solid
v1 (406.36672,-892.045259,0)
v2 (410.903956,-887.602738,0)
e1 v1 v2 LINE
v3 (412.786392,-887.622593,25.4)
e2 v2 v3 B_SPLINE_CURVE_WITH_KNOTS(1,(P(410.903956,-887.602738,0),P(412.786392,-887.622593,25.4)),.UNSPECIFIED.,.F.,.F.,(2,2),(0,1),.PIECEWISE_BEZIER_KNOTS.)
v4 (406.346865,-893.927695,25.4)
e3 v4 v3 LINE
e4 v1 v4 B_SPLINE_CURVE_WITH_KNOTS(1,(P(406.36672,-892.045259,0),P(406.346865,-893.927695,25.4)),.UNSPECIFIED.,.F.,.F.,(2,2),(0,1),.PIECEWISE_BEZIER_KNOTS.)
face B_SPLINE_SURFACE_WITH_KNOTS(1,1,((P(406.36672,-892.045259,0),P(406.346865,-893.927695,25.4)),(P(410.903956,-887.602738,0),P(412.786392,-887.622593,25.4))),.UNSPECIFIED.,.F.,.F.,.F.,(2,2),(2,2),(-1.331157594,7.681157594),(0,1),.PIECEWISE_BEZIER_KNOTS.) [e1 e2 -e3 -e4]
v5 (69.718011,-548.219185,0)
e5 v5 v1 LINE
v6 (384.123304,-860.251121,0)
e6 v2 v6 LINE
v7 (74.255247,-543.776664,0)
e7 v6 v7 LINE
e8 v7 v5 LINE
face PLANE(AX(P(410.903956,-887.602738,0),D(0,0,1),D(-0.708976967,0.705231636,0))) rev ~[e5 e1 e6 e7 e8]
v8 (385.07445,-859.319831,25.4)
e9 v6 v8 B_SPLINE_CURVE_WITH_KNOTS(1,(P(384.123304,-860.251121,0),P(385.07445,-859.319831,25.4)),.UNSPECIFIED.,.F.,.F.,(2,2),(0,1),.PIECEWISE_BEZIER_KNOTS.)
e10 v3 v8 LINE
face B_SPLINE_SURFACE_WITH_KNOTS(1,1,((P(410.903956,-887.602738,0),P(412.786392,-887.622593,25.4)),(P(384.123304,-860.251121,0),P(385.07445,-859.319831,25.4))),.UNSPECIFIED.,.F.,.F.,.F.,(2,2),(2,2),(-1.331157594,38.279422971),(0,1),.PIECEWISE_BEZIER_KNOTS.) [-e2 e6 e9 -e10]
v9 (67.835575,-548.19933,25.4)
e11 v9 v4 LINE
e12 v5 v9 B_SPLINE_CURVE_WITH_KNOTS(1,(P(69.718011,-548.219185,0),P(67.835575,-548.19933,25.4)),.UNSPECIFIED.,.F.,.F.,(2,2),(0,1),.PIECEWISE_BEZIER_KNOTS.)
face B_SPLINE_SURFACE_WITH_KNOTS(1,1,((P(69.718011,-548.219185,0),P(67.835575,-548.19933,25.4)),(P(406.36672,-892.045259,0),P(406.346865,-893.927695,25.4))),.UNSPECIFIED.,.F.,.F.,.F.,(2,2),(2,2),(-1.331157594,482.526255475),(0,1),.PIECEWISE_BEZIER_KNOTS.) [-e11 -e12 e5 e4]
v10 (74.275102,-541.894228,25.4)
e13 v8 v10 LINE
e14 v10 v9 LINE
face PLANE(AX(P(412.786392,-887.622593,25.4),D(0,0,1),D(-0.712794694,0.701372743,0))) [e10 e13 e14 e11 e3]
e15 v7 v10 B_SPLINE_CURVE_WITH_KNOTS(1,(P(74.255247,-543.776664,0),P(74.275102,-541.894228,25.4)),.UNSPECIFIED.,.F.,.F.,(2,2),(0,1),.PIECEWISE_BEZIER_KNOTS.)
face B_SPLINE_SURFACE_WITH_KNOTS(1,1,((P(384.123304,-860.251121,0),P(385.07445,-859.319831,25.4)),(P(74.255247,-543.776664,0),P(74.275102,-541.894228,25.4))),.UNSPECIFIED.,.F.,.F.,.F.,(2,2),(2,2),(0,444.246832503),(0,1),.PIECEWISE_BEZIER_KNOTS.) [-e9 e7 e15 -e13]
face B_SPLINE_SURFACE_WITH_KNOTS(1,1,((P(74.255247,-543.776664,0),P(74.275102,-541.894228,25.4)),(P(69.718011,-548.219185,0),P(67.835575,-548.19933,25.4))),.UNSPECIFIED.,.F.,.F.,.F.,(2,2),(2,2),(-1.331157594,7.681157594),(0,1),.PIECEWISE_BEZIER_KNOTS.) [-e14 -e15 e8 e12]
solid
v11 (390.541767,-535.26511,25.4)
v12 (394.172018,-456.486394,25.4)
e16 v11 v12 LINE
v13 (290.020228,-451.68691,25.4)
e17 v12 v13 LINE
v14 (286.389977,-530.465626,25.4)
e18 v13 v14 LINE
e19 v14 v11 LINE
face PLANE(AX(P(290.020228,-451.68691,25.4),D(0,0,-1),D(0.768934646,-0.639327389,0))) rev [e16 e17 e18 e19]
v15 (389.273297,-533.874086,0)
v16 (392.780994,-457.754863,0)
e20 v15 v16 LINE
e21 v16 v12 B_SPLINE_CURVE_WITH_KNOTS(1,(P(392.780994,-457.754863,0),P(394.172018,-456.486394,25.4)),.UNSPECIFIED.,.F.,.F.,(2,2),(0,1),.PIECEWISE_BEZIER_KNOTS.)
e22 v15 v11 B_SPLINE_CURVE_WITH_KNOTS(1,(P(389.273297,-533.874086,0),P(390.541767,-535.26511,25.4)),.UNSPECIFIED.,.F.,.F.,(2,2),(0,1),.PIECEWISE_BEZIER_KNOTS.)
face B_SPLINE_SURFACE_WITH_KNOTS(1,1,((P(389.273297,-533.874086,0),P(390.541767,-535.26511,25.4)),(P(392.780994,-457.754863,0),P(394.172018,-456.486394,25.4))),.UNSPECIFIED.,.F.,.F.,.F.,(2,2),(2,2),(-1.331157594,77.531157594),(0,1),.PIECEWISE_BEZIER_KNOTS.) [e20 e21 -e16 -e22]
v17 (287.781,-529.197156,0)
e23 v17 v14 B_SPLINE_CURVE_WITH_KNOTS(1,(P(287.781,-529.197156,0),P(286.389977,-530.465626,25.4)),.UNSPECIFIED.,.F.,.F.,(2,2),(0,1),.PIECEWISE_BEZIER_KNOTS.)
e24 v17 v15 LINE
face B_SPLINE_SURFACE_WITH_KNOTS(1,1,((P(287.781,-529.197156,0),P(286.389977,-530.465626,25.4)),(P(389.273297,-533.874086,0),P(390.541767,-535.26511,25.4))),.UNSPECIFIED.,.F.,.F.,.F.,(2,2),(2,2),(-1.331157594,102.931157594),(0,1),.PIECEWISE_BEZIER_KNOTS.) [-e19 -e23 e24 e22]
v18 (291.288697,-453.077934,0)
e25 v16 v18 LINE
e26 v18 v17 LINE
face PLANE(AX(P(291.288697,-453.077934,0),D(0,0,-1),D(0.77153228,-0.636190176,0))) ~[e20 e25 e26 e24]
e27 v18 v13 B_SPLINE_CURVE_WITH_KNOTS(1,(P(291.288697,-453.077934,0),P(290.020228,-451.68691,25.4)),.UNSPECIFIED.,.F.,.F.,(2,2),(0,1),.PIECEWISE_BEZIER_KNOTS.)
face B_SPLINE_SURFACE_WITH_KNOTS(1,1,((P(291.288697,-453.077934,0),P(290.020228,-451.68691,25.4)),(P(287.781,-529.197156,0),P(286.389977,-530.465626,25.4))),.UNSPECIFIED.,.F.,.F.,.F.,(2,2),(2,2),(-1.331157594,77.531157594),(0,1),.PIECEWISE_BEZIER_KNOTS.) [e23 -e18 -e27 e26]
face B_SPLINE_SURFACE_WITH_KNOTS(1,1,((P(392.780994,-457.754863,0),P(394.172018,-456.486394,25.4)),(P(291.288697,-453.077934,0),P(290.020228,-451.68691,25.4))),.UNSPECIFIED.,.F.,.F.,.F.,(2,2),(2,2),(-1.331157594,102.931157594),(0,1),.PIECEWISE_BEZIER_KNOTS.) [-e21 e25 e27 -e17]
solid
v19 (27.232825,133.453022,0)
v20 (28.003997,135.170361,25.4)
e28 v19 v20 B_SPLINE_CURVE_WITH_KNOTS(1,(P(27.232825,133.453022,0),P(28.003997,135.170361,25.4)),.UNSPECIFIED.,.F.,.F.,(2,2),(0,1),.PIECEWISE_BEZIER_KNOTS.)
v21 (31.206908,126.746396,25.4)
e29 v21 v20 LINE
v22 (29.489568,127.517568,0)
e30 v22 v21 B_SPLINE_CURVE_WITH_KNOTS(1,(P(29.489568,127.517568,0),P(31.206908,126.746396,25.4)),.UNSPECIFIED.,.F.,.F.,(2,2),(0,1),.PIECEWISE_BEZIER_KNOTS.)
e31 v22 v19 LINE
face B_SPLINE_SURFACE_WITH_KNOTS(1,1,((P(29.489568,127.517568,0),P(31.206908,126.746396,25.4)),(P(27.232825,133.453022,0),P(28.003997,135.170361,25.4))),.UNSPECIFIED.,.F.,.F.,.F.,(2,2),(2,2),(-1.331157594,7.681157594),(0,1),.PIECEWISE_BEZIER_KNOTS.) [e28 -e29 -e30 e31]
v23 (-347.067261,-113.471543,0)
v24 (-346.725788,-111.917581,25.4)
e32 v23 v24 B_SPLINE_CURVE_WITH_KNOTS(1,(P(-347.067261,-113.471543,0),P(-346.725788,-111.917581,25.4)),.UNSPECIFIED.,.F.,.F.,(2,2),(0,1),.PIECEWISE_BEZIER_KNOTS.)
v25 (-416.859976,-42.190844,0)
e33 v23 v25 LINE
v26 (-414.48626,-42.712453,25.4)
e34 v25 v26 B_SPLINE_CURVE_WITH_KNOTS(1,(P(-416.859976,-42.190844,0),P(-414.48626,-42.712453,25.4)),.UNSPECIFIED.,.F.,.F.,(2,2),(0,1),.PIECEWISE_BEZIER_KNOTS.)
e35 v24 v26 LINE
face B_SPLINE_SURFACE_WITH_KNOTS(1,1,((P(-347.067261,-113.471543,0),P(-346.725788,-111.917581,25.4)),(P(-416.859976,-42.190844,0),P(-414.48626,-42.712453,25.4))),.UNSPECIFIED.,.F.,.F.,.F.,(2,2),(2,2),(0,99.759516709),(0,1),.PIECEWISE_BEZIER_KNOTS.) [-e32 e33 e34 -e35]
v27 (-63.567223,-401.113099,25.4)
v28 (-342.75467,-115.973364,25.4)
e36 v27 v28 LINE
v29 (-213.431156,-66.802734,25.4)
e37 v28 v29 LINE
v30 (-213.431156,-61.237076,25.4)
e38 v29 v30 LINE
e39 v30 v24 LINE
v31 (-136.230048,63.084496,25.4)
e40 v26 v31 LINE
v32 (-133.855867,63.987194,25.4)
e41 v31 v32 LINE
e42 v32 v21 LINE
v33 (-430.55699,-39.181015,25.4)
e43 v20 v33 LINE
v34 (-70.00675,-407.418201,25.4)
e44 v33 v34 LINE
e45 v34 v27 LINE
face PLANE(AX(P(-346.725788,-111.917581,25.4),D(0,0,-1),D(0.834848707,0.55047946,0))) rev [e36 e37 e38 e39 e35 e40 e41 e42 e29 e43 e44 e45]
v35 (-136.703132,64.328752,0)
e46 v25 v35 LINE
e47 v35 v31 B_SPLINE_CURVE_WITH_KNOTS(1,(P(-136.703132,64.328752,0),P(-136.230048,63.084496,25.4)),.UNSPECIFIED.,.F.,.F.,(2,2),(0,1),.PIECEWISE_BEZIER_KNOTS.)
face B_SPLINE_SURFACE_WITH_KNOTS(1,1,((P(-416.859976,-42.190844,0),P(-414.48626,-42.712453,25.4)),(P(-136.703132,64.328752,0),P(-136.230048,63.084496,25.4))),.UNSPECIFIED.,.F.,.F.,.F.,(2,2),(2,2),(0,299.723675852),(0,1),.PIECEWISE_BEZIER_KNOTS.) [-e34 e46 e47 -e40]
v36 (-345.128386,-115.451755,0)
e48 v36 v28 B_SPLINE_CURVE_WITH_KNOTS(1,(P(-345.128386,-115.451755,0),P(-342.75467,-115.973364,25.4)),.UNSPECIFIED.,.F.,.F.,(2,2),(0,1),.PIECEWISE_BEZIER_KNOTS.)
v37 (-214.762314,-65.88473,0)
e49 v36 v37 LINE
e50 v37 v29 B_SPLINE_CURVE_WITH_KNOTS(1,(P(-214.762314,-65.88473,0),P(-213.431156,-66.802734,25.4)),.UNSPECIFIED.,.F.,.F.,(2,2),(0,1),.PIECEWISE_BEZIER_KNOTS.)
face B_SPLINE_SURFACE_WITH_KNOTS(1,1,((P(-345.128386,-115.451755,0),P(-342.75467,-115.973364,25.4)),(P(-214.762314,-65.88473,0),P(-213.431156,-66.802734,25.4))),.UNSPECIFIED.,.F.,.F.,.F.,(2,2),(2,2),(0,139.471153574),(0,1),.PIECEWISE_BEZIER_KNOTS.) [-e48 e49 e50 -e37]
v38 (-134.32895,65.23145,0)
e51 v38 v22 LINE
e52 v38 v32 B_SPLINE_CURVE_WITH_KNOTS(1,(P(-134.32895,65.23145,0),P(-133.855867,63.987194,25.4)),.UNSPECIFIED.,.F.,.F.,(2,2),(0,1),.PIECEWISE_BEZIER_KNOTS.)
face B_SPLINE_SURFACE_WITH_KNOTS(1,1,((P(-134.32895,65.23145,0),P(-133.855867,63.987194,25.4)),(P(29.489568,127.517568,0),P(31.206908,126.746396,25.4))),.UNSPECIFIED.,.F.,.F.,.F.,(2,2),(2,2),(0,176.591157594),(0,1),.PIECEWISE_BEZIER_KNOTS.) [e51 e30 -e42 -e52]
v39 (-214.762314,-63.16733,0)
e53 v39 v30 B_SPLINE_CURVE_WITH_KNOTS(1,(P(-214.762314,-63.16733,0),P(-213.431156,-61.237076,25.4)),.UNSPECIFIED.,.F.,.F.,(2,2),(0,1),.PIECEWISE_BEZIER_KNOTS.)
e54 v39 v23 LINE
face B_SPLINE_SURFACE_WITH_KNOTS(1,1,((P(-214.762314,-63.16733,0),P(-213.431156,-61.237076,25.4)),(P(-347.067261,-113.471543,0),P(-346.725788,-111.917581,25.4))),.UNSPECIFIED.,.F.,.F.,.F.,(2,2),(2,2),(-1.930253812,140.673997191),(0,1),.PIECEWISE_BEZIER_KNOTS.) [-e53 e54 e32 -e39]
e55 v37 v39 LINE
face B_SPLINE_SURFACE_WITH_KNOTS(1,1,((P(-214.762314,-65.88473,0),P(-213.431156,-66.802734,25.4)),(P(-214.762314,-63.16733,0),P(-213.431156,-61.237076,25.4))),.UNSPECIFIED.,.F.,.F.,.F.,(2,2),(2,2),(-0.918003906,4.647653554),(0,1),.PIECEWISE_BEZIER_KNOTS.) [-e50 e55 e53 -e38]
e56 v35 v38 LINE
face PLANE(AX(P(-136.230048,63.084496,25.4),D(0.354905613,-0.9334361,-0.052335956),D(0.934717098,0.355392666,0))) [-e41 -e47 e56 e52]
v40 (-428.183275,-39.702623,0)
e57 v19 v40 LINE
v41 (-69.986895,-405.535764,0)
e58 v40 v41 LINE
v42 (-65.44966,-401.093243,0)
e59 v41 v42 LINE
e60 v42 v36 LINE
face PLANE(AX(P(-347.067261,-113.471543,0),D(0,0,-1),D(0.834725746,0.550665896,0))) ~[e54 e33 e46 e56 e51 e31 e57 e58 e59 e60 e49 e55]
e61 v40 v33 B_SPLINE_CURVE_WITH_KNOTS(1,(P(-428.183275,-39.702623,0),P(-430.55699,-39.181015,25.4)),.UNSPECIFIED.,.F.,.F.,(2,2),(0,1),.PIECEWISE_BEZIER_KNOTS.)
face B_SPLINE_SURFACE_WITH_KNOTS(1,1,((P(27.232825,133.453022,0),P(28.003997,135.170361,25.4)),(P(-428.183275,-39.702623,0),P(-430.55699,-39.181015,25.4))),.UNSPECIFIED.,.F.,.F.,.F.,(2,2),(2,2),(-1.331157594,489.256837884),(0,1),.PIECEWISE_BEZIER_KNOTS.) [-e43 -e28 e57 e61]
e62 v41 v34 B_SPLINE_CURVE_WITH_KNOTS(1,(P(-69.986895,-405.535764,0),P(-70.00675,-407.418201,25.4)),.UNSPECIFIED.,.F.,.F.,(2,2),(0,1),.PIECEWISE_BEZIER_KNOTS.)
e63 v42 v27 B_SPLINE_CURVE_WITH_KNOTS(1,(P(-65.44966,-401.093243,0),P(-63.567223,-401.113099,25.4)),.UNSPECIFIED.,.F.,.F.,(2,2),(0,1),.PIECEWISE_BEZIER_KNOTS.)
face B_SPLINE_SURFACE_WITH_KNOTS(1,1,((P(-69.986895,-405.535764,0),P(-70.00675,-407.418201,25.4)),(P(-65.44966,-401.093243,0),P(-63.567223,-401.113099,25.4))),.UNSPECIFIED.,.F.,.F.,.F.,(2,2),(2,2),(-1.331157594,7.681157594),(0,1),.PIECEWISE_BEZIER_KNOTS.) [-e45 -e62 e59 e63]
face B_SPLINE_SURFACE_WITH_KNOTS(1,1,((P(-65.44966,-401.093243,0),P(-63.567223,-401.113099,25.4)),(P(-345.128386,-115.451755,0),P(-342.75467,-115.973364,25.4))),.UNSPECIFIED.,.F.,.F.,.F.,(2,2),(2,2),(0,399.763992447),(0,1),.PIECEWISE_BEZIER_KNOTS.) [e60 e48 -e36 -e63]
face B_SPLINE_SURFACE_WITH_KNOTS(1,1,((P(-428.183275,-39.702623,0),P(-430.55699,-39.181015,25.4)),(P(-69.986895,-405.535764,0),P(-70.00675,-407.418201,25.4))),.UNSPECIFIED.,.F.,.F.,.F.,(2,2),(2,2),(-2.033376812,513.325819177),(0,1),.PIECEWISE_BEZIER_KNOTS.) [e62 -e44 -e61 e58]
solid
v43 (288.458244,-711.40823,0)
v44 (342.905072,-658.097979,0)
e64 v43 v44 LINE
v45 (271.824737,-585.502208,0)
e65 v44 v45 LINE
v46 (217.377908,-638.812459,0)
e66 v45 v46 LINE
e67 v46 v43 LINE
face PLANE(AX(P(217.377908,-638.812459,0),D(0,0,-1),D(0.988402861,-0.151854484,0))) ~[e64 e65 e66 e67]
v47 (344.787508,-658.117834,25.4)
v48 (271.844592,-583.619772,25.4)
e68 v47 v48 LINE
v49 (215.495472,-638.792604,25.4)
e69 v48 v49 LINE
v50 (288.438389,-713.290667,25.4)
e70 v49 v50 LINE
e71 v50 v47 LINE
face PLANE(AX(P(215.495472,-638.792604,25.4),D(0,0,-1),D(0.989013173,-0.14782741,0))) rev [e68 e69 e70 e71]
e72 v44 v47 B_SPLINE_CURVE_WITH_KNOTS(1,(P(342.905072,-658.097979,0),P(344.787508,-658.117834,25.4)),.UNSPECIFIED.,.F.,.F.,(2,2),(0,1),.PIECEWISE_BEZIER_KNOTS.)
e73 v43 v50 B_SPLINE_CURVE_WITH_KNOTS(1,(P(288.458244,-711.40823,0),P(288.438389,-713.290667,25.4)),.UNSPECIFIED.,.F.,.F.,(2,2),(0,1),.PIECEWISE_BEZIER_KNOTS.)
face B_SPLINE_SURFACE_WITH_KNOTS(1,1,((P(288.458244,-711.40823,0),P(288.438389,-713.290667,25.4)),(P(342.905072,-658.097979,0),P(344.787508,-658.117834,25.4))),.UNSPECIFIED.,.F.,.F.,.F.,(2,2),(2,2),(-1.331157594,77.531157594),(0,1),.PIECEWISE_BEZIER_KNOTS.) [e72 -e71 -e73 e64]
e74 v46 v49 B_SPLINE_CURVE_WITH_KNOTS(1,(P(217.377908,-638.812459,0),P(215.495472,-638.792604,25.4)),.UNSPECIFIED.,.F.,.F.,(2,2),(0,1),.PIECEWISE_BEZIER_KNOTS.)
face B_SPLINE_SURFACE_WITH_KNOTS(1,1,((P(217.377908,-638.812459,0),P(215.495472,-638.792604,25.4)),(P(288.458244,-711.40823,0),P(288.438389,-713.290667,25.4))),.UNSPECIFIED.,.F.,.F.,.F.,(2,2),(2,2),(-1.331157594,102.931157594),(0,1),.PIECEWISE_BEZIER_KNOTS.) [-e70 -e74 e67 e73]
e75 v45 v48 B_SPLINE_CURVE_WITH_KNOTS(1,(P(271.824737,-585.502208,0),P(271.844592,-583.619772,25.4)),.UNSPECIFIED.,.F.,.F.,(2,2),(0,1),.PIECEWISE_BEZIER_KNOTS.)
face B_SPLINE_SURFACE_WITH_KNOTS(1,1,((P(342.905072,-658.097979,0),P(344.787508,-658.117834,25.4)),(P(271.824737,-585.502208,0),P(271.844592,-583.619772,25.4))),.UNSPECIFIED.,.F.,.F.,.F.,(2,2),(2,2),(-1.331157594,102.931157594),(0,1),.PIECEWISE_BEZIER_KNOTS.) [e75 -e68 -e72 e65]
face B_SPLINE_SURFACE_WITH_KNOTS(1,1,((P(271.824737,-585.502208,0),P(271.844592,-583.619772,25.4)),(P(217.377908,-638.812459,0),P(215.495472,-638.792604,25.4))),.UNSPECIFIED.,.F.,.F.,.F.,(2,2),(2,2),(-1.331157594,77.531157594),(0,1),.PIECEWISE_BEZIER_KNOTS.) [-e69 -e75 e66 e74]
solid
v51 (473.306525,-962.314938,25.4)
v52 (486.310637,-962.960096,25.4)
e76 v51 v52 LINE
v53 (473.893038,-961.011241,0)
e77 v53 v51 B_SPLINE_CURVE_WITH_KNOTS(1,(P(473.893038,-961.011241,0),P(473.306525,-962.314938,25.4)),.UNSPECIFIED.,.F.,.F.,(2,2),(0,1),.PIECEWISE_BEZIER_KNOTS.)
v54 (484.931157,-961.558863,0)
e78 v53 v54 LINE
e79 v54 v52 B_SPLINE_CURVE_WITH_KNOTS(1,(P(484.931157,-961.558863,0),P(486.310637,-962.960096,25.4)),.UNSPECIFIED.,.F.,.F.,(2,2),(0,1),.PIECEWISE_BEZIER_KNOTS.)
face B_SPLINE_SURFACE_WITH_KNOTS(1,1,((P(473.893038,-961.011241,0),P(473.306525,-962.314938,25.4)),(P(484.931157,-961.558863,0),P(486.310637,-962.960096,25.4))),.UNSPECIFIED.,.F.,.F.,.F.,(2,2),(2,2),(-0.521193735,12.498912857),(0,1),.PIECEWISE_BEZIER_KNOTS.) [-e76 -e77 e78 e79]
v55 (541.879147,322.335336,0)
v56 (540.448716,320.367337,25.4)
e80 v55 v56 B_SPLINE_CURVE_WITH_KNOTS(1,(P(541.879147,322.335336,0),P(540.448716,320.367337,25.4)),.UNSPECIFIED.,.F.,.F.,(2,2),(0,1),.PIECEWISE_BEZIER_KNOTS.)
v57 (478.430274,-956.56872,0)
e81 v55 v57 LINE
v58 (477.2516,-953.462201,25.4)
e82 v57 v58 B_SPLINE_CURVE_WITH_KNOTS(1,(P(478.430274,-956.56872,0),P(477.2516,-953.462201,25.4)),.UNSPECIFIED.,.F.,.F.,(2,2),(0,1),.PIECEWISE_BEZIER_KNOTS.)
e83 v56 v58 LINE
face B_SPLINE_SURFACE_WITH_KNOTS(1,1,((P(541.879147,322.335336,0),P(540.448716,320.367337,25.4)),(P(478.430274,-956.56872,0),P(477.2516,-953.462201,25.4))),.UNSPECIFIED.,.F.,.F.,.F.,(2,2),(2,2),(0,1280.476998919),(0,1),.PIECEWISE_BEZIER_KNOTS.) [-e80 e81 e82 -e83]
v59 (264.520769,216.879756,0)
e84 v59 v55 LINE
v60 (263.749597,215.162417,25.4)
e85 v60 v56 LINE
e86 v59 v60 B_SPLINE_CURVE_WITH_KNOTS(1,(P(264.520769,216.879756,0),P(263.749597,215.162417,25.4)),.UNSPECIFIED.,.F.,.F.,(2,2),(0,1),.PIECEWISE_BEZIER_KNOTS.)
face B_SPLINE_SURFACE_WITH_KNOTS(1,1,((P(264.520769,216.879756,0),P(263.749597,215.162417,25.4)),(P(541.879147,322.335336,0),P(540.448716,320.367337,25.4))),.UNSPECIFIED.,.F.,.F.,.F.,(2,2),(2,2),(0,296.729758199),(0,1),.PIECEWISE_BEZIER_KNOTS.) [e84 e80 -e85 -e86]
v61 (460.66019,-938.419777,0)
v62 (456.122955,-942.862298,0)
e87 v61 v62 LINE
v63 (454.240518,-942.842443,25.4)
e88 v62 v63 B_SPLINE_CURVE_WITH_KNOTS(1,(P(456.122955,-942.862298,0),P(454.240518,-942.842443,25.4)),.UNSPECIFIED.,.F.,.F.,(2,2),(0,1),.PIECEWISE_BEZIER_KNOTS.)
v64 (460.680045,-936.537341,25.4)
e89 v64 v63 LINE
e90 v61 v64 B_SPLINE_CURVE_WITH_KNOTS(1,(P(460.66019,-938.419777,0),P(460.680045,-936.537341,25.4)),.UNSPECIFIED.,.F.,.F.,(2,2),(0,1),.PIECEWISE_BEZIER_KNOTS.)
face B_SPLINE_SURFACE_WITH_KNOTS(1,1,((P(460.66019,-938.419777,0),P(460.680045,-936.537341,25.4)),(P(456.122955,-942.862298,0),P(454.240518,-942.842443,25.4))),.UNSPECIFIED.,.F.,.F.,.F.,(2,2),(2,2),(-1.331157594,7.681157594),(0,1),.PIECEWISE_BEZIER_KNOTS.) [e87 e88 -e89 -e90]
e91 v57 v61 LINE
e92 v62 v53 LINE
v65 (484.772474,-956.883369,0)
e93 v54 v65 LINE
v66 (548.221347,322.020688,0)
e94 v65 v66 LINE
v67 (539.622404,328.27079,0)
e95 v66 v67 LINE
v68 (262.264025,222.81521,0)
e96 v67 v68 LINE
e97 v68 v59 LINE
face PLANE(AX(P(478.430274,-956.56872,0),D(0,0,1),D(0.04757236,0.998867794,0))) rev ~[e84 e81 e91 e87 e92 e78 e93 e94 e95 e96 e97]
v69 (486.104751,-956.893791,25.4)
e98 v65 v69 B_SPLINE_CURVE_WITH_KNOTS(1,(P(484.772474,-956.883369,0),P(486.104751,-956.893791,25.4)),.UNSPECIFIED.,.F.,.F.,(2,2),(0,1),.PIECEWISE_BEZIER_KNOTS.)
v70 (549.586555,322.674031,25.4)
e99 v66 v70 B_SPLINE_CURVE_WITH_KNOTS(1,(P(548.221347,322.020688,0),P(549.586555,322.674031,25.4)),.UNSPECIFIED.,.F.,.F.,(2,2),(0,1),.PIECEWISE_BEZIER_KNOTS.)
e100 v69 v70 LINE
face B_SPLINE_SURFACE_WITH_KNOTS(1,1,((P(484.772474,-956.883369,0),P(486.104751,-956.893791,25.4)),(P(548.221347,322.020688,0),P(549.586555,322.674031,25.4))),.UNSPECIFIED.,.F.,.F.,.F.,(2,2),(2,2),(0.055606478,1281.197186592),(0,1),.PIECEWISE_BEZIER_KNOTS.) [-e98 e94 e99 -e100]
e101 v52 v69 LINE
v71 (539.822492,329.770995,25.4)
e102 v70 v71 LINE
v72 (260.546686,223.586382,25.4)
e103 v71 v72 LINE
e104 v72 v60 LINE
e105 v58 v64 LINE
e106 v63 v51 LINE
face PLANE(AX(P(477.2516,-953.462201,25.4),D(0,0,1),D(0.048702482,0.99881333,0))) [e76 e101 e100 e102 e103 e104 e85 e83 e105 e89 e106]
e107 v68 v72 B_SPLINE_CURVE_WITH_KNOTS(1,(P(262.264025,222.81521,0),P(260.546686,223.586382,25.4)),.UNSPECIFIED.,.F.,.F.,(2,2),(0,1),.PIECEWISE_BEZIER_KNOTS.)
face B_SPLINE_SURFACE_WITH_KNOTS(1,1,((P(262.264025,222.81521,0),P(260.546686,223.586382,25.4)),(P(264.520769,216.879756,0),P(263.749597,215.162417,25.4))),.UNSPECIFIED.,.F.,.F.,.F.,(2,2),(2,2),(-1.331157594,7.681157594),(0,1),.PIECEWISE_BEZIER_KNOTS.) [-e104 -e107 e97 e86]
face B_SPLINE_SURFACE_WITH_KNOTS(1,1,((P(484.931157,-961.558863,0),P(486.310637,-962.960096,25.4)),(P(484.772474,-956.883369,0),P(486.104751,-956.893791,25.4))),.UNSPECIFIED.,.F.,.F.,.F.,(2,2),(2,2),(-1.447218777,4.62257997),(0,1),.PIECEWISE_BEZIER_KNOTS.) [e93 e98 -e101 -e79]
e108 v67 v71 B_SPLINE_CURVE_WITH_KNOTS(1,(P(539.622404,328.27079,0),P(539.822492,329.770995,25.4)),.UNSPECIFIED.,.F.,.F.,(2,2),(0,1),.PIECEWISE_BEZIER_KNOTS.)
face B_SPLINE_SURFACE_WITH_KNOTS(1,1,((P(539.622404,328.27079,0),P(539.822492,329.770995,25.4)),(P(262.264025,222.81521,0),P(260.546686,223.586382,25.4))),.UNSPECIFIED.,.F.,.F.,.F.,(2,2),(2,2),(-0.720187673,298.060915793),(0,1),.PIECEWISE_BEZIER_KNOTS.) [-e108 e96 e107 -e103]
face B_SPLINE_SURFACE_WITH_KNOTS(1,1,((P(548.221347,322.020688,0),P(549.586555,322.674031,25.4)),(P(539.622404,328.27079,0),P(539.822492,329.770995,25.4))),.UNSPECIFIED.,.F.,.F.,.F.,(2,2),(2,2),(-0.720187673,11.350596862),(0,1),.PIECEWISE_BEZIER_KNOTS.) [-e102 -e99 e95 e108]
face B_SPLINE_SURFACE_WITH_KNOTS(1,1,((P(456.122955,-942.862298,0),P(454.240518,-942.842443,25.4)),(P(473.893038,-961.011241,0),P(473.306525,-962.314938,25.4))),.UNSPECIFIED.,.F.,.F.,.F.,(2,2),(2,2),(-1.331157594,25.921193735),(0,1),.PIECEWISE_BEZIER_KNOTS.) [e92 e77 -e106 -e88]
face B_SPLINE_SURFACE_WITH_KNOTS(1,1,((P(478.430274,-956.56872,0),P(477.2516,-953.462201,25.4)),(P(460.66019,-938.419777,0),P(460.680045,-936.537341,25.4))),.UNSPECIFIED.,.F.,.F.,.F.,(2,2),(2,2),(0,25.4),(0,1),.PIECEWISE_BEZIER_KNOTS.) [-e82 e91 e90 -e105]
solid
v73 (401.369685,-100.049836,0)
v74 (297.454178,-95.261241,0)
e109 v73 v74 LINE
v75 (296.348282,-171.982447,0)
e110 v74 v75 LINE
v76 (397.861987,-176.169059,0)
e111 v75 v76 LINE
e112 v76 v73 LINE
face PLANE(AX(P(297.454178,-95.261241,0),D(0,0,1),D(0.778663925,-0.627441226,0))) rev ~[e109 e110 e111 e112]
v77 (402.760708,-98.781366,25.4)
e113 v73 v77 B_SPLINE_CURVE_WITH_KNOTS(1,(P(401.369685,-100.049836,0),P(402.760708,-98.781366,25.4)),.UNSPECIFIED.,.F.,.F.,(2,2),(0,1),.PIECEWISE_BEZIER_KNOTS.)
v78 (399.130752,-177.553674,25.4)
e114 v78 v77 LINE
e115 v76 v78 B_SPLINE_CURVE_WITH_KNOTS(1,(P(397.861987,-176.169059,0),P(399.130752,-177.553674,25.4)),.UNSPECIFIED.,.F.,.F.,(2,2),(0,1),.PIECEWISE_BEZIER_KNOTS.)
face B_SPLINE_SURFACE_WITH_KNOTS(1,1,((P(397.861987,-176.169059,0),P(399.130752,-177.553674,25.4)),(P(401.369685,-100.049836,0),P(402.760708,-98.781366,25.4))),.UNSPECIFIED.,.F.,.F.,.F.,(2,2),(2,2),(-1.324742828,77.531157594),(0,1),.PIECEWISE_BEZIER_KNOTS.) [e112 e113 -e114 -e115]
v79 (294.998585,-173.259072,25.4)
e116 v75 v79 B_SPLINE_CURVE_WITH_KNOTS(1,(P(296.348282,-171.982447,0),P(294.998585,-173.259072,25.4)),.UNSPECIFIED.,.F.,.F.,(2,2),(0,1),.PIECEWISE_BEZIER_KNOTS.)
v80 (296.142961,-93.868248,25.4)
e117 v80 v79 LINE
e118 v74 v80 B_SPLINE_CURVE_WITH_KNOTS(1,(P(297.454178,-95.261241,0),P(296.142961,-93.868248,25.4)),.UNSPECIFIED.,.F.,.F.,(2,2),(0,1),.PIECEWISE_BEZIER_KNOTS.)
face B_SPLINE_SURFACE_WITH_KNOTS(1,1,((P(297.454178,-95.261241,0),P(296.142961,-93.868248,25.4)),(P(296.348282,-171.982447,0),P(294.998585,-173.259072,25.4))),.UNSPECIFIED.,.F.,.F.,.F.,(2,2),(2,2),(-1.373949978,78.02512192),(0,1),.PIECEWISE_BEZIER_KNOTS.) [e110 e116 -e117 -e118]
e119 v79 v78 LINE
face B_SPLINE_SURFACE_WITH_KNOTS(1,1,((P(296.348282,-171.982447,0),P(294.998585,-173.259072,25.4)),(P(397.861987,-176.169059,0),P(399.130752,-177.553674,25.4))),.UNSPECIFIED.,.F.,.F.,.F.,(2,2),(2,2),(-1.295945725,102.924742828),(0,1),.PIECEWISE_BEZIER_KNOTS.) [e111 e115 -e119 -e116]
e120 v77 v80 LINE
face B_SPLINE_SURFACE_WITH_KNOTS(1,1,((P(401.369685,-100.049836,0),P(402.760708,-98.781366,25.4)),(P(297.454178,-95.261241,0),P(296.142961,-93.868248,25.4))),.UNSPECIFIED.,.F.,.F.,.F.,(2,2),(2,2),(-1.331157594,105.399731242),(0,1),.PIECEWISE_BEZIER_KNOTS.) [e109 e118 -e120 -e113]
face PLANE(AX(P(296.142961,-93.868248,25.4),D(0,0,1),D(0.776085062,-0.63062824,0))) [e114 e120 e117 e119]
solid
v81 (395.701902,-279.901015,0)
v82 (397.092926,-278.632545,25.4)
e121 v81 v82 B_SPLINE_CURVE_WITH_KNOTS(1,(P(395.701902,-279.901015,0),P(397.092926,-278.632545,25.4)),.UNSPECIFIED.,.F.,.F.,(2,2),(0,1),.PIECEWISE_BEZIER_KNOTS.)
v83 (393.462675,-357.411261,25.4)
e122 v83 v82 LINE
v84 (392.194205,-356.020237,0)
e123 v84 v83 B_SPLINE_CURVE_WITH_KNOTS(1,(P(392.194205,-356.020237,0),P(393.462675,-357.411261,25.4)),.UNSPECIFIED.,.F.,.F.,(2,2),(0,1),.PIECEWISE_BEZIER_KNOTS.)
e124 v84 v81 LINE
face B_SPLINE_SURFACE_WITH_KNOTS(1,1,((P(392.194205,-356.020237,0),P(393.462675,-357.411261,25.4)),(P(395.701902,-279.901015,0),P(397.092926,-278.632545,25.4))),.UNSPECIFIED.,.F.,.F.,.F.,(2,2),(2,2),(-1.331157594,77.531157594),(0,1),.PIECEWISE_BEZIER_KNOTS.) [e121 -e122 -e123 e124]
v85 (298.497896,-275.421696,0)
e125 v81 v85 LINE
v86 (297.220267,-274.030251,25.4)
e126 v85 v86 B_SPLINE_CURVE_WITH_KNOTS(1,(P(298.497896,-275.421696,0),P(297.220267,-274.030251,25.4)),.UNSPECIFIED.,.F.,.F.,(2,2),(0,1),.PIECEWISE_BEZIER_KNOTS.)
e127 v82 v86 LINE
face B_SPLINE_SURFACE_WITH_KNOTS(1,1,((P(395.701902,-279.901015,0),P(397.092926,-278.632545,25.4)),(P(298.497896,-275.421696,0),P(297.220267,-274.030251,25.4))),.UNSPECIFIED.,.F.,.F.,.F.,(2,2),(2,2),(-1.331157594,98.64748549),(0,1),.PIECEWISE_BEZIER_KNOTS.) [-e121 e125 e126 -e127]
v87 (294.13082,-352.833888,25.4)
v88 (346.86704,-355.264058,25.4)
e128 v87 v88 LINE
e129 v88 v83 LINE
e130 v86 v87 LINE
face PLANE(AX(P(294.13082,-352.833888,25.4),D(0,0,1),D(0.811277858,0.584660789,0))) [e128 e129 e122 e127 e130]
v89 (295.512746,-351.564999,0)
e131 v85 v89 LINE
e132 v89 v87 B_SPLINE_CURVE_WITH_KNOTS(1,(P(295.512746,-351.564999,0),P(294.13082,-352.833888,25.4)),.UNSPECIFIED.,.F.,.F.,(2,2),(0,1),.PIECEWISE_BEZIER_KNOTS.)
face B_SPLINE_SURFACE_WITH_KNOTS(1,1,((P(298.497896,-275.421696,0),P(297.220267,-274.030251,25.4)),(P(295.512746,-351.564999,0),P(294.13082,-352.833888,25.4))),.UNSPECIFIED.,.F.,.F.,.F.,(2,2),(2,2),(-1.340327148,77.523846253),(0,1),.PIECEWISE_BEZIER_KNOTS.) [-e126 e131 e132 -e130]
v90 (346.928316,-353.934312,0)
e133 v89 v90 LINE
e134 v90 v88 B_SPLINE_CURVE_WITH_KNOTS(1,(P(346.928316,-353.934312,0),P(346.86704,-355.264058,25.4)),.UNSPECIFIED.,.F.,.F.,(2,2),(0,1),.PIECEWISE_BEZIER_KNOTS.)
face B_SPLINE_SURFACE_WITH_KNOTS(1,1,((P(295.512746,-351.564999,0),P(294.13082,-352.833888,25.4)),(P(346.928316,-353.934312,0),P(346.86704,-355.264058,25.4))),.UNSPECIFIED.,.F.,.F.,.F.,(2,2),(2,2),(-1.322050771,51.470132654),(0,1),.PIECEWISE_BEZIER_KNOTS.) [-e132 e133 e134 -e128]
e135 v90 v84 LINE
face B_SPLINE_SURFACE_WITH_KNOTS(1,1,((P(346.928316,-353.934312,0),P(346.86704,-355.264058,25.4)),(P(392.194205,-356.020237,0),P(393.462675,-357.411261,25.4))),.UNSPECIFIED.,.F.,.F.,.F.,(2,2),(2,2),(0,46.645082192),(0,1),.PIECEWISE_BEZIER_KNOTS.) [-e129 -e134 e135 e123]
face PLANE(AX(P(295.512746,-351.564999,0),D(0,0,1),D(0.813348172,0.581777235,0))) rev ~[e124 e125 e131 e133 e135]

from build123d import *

# Parameters (mm, degrees)
F1_DEPTH = 25.4
F1_TAPER = -3


with BuildPart() as f1:
    # F0 (on Top) → F1 (new body)
    with BuildSketch(Plane.XY):
        Polygon((-347.0672607158, -113.4715431192), (-416.8599761126, -42.1908441073), (-136.7031317252, 64.3287522537), (-134.3289502972, 65.2314496265), (29.489568236, 127.5175683496), (27.232824804, 133.4530219197), (-138.9598751572, 70.2642058237), (-428.1832746342, -39.702623071), (-69.9868951879, -405.5357643277), (-65.449659507, -401.0932433794), (-214.7623137451, -248.5972371001), (-345.1283856185, -115.4517551147), align=None)
        Polygon((-214.7623137451, -63.1673302105), (-347.0672607158, -113.4715431192), (-345.1283856185, -115.4517551147), (-214.7623137451, -65.8847299525), align=None)
    extrude(amount=F1_DEPTH, taper=F1_TAPER)


with BuildPart() as f1b:
    # F0 (on Top) → F1, piece 2 (new body)
    with BuildSketch(Plane.XY):
        Polygon((473.8930384086, -961.0112408853), (478.4302740895, -956.5687199371), (460.6601902965, -938.4197772134), (456.1229546155, -942.8622981616), align=None)
        Polygon((496.9257680351, -583.7652153246), (478.4302740895, -956.5687199371), (473.8930384086, -961.0112408853), (484.9311565472, -961.5588630098), (484.7724737264, -956.8833685751), (548.22134676, 322.0206877443), (539.6224036911, 328.2707899524), (436.354984621, 289.0070560228), (262.2640253228, 222.8152099692), (264.5207687548, 216.8797563991), (351.5662484039, 249.9756794259), (438.611728053, 283.0716024527), (541.8791471231, 322.3353363823), (530.2984636922, 88.9098662905), (524.0748561487, -36.5359698884), align=None)
    extrude(amount=F1_DEPTH, taper=F1_TAPER)


with BuildPart() as f1c:
    # F0 (on Top) → F1, piece 3 (new body)
    with BuildSketch(Plane.XY):
        Polygon((217.3779084847, -638.8124593455), (288.4582436569, -711.4082302403), (342.905071828, -658.0979788612), (271.8247366558, -585.5022079664), align=None)
    extrude(amount=F1_DEPTH, taper=F1_TAPER)


with BuildPart() as f1d:
    # F0 (on Top) → F1, piece 4 (new body)
    with BuildSketch(Plane.XY):
        Polygon((291.2886974357, -453.0779337607), (287.7810001373, -529.1971564293), (389.2732970287, -533.8740861604), (392.7809943271, -457.7548634919), align=None)
    extrude(amount=F1_DEPTH, taper=F1_TAPER)


with BuildPart() as f1e:
    # F0 (on Top) → F1, piece 5 (new body)
    with BuildSketch(Plane.XY):
        Polygon((295.5127456932, -351.5649988721), (346.9283164057, -353.934311802), (392.1942050738, -356.0202374042), (395.7019023722, -279.9010147357), (298.4978964264, -275.4216964099), align=None)
    extrude(amount=F1_DEPTH, taper=F1_TAPER)


with BuildPart() as f1f:
    # F0 (on Top) → F1, piece 6 (new body)
    with BuildSketch(Plane.XY):
        Polygon((297.4541779926, -95.2612408435), (296.3482824517, -171.9824470033), (397.8619873524, -176.1690586814), (401.3696846507, -100.0498360128), align=None)
    extrude(amount=F1_DEPTH, taper=F1_TAPER)


with BuildPart() as f1g:
    # F0 (on Top) → F1, piece 7 (new body)
    with BuildSketch(Plane.XY):
        Polygon((410.9039556759, -887.602737587), (384.1233039537, -860.2511212485), (74.2552466151, -543.7766639507), (69.7180109341, -548.2191848989), (406.366719995, -892.0452585353), align=None)
    extrude(amount=F1_DEPTH, taper=F1_TAPER)


solid = Compound([f1.part, f1b.part, f1c.part, f1d.part, f1e.part, f1f.part, f1g.part])
